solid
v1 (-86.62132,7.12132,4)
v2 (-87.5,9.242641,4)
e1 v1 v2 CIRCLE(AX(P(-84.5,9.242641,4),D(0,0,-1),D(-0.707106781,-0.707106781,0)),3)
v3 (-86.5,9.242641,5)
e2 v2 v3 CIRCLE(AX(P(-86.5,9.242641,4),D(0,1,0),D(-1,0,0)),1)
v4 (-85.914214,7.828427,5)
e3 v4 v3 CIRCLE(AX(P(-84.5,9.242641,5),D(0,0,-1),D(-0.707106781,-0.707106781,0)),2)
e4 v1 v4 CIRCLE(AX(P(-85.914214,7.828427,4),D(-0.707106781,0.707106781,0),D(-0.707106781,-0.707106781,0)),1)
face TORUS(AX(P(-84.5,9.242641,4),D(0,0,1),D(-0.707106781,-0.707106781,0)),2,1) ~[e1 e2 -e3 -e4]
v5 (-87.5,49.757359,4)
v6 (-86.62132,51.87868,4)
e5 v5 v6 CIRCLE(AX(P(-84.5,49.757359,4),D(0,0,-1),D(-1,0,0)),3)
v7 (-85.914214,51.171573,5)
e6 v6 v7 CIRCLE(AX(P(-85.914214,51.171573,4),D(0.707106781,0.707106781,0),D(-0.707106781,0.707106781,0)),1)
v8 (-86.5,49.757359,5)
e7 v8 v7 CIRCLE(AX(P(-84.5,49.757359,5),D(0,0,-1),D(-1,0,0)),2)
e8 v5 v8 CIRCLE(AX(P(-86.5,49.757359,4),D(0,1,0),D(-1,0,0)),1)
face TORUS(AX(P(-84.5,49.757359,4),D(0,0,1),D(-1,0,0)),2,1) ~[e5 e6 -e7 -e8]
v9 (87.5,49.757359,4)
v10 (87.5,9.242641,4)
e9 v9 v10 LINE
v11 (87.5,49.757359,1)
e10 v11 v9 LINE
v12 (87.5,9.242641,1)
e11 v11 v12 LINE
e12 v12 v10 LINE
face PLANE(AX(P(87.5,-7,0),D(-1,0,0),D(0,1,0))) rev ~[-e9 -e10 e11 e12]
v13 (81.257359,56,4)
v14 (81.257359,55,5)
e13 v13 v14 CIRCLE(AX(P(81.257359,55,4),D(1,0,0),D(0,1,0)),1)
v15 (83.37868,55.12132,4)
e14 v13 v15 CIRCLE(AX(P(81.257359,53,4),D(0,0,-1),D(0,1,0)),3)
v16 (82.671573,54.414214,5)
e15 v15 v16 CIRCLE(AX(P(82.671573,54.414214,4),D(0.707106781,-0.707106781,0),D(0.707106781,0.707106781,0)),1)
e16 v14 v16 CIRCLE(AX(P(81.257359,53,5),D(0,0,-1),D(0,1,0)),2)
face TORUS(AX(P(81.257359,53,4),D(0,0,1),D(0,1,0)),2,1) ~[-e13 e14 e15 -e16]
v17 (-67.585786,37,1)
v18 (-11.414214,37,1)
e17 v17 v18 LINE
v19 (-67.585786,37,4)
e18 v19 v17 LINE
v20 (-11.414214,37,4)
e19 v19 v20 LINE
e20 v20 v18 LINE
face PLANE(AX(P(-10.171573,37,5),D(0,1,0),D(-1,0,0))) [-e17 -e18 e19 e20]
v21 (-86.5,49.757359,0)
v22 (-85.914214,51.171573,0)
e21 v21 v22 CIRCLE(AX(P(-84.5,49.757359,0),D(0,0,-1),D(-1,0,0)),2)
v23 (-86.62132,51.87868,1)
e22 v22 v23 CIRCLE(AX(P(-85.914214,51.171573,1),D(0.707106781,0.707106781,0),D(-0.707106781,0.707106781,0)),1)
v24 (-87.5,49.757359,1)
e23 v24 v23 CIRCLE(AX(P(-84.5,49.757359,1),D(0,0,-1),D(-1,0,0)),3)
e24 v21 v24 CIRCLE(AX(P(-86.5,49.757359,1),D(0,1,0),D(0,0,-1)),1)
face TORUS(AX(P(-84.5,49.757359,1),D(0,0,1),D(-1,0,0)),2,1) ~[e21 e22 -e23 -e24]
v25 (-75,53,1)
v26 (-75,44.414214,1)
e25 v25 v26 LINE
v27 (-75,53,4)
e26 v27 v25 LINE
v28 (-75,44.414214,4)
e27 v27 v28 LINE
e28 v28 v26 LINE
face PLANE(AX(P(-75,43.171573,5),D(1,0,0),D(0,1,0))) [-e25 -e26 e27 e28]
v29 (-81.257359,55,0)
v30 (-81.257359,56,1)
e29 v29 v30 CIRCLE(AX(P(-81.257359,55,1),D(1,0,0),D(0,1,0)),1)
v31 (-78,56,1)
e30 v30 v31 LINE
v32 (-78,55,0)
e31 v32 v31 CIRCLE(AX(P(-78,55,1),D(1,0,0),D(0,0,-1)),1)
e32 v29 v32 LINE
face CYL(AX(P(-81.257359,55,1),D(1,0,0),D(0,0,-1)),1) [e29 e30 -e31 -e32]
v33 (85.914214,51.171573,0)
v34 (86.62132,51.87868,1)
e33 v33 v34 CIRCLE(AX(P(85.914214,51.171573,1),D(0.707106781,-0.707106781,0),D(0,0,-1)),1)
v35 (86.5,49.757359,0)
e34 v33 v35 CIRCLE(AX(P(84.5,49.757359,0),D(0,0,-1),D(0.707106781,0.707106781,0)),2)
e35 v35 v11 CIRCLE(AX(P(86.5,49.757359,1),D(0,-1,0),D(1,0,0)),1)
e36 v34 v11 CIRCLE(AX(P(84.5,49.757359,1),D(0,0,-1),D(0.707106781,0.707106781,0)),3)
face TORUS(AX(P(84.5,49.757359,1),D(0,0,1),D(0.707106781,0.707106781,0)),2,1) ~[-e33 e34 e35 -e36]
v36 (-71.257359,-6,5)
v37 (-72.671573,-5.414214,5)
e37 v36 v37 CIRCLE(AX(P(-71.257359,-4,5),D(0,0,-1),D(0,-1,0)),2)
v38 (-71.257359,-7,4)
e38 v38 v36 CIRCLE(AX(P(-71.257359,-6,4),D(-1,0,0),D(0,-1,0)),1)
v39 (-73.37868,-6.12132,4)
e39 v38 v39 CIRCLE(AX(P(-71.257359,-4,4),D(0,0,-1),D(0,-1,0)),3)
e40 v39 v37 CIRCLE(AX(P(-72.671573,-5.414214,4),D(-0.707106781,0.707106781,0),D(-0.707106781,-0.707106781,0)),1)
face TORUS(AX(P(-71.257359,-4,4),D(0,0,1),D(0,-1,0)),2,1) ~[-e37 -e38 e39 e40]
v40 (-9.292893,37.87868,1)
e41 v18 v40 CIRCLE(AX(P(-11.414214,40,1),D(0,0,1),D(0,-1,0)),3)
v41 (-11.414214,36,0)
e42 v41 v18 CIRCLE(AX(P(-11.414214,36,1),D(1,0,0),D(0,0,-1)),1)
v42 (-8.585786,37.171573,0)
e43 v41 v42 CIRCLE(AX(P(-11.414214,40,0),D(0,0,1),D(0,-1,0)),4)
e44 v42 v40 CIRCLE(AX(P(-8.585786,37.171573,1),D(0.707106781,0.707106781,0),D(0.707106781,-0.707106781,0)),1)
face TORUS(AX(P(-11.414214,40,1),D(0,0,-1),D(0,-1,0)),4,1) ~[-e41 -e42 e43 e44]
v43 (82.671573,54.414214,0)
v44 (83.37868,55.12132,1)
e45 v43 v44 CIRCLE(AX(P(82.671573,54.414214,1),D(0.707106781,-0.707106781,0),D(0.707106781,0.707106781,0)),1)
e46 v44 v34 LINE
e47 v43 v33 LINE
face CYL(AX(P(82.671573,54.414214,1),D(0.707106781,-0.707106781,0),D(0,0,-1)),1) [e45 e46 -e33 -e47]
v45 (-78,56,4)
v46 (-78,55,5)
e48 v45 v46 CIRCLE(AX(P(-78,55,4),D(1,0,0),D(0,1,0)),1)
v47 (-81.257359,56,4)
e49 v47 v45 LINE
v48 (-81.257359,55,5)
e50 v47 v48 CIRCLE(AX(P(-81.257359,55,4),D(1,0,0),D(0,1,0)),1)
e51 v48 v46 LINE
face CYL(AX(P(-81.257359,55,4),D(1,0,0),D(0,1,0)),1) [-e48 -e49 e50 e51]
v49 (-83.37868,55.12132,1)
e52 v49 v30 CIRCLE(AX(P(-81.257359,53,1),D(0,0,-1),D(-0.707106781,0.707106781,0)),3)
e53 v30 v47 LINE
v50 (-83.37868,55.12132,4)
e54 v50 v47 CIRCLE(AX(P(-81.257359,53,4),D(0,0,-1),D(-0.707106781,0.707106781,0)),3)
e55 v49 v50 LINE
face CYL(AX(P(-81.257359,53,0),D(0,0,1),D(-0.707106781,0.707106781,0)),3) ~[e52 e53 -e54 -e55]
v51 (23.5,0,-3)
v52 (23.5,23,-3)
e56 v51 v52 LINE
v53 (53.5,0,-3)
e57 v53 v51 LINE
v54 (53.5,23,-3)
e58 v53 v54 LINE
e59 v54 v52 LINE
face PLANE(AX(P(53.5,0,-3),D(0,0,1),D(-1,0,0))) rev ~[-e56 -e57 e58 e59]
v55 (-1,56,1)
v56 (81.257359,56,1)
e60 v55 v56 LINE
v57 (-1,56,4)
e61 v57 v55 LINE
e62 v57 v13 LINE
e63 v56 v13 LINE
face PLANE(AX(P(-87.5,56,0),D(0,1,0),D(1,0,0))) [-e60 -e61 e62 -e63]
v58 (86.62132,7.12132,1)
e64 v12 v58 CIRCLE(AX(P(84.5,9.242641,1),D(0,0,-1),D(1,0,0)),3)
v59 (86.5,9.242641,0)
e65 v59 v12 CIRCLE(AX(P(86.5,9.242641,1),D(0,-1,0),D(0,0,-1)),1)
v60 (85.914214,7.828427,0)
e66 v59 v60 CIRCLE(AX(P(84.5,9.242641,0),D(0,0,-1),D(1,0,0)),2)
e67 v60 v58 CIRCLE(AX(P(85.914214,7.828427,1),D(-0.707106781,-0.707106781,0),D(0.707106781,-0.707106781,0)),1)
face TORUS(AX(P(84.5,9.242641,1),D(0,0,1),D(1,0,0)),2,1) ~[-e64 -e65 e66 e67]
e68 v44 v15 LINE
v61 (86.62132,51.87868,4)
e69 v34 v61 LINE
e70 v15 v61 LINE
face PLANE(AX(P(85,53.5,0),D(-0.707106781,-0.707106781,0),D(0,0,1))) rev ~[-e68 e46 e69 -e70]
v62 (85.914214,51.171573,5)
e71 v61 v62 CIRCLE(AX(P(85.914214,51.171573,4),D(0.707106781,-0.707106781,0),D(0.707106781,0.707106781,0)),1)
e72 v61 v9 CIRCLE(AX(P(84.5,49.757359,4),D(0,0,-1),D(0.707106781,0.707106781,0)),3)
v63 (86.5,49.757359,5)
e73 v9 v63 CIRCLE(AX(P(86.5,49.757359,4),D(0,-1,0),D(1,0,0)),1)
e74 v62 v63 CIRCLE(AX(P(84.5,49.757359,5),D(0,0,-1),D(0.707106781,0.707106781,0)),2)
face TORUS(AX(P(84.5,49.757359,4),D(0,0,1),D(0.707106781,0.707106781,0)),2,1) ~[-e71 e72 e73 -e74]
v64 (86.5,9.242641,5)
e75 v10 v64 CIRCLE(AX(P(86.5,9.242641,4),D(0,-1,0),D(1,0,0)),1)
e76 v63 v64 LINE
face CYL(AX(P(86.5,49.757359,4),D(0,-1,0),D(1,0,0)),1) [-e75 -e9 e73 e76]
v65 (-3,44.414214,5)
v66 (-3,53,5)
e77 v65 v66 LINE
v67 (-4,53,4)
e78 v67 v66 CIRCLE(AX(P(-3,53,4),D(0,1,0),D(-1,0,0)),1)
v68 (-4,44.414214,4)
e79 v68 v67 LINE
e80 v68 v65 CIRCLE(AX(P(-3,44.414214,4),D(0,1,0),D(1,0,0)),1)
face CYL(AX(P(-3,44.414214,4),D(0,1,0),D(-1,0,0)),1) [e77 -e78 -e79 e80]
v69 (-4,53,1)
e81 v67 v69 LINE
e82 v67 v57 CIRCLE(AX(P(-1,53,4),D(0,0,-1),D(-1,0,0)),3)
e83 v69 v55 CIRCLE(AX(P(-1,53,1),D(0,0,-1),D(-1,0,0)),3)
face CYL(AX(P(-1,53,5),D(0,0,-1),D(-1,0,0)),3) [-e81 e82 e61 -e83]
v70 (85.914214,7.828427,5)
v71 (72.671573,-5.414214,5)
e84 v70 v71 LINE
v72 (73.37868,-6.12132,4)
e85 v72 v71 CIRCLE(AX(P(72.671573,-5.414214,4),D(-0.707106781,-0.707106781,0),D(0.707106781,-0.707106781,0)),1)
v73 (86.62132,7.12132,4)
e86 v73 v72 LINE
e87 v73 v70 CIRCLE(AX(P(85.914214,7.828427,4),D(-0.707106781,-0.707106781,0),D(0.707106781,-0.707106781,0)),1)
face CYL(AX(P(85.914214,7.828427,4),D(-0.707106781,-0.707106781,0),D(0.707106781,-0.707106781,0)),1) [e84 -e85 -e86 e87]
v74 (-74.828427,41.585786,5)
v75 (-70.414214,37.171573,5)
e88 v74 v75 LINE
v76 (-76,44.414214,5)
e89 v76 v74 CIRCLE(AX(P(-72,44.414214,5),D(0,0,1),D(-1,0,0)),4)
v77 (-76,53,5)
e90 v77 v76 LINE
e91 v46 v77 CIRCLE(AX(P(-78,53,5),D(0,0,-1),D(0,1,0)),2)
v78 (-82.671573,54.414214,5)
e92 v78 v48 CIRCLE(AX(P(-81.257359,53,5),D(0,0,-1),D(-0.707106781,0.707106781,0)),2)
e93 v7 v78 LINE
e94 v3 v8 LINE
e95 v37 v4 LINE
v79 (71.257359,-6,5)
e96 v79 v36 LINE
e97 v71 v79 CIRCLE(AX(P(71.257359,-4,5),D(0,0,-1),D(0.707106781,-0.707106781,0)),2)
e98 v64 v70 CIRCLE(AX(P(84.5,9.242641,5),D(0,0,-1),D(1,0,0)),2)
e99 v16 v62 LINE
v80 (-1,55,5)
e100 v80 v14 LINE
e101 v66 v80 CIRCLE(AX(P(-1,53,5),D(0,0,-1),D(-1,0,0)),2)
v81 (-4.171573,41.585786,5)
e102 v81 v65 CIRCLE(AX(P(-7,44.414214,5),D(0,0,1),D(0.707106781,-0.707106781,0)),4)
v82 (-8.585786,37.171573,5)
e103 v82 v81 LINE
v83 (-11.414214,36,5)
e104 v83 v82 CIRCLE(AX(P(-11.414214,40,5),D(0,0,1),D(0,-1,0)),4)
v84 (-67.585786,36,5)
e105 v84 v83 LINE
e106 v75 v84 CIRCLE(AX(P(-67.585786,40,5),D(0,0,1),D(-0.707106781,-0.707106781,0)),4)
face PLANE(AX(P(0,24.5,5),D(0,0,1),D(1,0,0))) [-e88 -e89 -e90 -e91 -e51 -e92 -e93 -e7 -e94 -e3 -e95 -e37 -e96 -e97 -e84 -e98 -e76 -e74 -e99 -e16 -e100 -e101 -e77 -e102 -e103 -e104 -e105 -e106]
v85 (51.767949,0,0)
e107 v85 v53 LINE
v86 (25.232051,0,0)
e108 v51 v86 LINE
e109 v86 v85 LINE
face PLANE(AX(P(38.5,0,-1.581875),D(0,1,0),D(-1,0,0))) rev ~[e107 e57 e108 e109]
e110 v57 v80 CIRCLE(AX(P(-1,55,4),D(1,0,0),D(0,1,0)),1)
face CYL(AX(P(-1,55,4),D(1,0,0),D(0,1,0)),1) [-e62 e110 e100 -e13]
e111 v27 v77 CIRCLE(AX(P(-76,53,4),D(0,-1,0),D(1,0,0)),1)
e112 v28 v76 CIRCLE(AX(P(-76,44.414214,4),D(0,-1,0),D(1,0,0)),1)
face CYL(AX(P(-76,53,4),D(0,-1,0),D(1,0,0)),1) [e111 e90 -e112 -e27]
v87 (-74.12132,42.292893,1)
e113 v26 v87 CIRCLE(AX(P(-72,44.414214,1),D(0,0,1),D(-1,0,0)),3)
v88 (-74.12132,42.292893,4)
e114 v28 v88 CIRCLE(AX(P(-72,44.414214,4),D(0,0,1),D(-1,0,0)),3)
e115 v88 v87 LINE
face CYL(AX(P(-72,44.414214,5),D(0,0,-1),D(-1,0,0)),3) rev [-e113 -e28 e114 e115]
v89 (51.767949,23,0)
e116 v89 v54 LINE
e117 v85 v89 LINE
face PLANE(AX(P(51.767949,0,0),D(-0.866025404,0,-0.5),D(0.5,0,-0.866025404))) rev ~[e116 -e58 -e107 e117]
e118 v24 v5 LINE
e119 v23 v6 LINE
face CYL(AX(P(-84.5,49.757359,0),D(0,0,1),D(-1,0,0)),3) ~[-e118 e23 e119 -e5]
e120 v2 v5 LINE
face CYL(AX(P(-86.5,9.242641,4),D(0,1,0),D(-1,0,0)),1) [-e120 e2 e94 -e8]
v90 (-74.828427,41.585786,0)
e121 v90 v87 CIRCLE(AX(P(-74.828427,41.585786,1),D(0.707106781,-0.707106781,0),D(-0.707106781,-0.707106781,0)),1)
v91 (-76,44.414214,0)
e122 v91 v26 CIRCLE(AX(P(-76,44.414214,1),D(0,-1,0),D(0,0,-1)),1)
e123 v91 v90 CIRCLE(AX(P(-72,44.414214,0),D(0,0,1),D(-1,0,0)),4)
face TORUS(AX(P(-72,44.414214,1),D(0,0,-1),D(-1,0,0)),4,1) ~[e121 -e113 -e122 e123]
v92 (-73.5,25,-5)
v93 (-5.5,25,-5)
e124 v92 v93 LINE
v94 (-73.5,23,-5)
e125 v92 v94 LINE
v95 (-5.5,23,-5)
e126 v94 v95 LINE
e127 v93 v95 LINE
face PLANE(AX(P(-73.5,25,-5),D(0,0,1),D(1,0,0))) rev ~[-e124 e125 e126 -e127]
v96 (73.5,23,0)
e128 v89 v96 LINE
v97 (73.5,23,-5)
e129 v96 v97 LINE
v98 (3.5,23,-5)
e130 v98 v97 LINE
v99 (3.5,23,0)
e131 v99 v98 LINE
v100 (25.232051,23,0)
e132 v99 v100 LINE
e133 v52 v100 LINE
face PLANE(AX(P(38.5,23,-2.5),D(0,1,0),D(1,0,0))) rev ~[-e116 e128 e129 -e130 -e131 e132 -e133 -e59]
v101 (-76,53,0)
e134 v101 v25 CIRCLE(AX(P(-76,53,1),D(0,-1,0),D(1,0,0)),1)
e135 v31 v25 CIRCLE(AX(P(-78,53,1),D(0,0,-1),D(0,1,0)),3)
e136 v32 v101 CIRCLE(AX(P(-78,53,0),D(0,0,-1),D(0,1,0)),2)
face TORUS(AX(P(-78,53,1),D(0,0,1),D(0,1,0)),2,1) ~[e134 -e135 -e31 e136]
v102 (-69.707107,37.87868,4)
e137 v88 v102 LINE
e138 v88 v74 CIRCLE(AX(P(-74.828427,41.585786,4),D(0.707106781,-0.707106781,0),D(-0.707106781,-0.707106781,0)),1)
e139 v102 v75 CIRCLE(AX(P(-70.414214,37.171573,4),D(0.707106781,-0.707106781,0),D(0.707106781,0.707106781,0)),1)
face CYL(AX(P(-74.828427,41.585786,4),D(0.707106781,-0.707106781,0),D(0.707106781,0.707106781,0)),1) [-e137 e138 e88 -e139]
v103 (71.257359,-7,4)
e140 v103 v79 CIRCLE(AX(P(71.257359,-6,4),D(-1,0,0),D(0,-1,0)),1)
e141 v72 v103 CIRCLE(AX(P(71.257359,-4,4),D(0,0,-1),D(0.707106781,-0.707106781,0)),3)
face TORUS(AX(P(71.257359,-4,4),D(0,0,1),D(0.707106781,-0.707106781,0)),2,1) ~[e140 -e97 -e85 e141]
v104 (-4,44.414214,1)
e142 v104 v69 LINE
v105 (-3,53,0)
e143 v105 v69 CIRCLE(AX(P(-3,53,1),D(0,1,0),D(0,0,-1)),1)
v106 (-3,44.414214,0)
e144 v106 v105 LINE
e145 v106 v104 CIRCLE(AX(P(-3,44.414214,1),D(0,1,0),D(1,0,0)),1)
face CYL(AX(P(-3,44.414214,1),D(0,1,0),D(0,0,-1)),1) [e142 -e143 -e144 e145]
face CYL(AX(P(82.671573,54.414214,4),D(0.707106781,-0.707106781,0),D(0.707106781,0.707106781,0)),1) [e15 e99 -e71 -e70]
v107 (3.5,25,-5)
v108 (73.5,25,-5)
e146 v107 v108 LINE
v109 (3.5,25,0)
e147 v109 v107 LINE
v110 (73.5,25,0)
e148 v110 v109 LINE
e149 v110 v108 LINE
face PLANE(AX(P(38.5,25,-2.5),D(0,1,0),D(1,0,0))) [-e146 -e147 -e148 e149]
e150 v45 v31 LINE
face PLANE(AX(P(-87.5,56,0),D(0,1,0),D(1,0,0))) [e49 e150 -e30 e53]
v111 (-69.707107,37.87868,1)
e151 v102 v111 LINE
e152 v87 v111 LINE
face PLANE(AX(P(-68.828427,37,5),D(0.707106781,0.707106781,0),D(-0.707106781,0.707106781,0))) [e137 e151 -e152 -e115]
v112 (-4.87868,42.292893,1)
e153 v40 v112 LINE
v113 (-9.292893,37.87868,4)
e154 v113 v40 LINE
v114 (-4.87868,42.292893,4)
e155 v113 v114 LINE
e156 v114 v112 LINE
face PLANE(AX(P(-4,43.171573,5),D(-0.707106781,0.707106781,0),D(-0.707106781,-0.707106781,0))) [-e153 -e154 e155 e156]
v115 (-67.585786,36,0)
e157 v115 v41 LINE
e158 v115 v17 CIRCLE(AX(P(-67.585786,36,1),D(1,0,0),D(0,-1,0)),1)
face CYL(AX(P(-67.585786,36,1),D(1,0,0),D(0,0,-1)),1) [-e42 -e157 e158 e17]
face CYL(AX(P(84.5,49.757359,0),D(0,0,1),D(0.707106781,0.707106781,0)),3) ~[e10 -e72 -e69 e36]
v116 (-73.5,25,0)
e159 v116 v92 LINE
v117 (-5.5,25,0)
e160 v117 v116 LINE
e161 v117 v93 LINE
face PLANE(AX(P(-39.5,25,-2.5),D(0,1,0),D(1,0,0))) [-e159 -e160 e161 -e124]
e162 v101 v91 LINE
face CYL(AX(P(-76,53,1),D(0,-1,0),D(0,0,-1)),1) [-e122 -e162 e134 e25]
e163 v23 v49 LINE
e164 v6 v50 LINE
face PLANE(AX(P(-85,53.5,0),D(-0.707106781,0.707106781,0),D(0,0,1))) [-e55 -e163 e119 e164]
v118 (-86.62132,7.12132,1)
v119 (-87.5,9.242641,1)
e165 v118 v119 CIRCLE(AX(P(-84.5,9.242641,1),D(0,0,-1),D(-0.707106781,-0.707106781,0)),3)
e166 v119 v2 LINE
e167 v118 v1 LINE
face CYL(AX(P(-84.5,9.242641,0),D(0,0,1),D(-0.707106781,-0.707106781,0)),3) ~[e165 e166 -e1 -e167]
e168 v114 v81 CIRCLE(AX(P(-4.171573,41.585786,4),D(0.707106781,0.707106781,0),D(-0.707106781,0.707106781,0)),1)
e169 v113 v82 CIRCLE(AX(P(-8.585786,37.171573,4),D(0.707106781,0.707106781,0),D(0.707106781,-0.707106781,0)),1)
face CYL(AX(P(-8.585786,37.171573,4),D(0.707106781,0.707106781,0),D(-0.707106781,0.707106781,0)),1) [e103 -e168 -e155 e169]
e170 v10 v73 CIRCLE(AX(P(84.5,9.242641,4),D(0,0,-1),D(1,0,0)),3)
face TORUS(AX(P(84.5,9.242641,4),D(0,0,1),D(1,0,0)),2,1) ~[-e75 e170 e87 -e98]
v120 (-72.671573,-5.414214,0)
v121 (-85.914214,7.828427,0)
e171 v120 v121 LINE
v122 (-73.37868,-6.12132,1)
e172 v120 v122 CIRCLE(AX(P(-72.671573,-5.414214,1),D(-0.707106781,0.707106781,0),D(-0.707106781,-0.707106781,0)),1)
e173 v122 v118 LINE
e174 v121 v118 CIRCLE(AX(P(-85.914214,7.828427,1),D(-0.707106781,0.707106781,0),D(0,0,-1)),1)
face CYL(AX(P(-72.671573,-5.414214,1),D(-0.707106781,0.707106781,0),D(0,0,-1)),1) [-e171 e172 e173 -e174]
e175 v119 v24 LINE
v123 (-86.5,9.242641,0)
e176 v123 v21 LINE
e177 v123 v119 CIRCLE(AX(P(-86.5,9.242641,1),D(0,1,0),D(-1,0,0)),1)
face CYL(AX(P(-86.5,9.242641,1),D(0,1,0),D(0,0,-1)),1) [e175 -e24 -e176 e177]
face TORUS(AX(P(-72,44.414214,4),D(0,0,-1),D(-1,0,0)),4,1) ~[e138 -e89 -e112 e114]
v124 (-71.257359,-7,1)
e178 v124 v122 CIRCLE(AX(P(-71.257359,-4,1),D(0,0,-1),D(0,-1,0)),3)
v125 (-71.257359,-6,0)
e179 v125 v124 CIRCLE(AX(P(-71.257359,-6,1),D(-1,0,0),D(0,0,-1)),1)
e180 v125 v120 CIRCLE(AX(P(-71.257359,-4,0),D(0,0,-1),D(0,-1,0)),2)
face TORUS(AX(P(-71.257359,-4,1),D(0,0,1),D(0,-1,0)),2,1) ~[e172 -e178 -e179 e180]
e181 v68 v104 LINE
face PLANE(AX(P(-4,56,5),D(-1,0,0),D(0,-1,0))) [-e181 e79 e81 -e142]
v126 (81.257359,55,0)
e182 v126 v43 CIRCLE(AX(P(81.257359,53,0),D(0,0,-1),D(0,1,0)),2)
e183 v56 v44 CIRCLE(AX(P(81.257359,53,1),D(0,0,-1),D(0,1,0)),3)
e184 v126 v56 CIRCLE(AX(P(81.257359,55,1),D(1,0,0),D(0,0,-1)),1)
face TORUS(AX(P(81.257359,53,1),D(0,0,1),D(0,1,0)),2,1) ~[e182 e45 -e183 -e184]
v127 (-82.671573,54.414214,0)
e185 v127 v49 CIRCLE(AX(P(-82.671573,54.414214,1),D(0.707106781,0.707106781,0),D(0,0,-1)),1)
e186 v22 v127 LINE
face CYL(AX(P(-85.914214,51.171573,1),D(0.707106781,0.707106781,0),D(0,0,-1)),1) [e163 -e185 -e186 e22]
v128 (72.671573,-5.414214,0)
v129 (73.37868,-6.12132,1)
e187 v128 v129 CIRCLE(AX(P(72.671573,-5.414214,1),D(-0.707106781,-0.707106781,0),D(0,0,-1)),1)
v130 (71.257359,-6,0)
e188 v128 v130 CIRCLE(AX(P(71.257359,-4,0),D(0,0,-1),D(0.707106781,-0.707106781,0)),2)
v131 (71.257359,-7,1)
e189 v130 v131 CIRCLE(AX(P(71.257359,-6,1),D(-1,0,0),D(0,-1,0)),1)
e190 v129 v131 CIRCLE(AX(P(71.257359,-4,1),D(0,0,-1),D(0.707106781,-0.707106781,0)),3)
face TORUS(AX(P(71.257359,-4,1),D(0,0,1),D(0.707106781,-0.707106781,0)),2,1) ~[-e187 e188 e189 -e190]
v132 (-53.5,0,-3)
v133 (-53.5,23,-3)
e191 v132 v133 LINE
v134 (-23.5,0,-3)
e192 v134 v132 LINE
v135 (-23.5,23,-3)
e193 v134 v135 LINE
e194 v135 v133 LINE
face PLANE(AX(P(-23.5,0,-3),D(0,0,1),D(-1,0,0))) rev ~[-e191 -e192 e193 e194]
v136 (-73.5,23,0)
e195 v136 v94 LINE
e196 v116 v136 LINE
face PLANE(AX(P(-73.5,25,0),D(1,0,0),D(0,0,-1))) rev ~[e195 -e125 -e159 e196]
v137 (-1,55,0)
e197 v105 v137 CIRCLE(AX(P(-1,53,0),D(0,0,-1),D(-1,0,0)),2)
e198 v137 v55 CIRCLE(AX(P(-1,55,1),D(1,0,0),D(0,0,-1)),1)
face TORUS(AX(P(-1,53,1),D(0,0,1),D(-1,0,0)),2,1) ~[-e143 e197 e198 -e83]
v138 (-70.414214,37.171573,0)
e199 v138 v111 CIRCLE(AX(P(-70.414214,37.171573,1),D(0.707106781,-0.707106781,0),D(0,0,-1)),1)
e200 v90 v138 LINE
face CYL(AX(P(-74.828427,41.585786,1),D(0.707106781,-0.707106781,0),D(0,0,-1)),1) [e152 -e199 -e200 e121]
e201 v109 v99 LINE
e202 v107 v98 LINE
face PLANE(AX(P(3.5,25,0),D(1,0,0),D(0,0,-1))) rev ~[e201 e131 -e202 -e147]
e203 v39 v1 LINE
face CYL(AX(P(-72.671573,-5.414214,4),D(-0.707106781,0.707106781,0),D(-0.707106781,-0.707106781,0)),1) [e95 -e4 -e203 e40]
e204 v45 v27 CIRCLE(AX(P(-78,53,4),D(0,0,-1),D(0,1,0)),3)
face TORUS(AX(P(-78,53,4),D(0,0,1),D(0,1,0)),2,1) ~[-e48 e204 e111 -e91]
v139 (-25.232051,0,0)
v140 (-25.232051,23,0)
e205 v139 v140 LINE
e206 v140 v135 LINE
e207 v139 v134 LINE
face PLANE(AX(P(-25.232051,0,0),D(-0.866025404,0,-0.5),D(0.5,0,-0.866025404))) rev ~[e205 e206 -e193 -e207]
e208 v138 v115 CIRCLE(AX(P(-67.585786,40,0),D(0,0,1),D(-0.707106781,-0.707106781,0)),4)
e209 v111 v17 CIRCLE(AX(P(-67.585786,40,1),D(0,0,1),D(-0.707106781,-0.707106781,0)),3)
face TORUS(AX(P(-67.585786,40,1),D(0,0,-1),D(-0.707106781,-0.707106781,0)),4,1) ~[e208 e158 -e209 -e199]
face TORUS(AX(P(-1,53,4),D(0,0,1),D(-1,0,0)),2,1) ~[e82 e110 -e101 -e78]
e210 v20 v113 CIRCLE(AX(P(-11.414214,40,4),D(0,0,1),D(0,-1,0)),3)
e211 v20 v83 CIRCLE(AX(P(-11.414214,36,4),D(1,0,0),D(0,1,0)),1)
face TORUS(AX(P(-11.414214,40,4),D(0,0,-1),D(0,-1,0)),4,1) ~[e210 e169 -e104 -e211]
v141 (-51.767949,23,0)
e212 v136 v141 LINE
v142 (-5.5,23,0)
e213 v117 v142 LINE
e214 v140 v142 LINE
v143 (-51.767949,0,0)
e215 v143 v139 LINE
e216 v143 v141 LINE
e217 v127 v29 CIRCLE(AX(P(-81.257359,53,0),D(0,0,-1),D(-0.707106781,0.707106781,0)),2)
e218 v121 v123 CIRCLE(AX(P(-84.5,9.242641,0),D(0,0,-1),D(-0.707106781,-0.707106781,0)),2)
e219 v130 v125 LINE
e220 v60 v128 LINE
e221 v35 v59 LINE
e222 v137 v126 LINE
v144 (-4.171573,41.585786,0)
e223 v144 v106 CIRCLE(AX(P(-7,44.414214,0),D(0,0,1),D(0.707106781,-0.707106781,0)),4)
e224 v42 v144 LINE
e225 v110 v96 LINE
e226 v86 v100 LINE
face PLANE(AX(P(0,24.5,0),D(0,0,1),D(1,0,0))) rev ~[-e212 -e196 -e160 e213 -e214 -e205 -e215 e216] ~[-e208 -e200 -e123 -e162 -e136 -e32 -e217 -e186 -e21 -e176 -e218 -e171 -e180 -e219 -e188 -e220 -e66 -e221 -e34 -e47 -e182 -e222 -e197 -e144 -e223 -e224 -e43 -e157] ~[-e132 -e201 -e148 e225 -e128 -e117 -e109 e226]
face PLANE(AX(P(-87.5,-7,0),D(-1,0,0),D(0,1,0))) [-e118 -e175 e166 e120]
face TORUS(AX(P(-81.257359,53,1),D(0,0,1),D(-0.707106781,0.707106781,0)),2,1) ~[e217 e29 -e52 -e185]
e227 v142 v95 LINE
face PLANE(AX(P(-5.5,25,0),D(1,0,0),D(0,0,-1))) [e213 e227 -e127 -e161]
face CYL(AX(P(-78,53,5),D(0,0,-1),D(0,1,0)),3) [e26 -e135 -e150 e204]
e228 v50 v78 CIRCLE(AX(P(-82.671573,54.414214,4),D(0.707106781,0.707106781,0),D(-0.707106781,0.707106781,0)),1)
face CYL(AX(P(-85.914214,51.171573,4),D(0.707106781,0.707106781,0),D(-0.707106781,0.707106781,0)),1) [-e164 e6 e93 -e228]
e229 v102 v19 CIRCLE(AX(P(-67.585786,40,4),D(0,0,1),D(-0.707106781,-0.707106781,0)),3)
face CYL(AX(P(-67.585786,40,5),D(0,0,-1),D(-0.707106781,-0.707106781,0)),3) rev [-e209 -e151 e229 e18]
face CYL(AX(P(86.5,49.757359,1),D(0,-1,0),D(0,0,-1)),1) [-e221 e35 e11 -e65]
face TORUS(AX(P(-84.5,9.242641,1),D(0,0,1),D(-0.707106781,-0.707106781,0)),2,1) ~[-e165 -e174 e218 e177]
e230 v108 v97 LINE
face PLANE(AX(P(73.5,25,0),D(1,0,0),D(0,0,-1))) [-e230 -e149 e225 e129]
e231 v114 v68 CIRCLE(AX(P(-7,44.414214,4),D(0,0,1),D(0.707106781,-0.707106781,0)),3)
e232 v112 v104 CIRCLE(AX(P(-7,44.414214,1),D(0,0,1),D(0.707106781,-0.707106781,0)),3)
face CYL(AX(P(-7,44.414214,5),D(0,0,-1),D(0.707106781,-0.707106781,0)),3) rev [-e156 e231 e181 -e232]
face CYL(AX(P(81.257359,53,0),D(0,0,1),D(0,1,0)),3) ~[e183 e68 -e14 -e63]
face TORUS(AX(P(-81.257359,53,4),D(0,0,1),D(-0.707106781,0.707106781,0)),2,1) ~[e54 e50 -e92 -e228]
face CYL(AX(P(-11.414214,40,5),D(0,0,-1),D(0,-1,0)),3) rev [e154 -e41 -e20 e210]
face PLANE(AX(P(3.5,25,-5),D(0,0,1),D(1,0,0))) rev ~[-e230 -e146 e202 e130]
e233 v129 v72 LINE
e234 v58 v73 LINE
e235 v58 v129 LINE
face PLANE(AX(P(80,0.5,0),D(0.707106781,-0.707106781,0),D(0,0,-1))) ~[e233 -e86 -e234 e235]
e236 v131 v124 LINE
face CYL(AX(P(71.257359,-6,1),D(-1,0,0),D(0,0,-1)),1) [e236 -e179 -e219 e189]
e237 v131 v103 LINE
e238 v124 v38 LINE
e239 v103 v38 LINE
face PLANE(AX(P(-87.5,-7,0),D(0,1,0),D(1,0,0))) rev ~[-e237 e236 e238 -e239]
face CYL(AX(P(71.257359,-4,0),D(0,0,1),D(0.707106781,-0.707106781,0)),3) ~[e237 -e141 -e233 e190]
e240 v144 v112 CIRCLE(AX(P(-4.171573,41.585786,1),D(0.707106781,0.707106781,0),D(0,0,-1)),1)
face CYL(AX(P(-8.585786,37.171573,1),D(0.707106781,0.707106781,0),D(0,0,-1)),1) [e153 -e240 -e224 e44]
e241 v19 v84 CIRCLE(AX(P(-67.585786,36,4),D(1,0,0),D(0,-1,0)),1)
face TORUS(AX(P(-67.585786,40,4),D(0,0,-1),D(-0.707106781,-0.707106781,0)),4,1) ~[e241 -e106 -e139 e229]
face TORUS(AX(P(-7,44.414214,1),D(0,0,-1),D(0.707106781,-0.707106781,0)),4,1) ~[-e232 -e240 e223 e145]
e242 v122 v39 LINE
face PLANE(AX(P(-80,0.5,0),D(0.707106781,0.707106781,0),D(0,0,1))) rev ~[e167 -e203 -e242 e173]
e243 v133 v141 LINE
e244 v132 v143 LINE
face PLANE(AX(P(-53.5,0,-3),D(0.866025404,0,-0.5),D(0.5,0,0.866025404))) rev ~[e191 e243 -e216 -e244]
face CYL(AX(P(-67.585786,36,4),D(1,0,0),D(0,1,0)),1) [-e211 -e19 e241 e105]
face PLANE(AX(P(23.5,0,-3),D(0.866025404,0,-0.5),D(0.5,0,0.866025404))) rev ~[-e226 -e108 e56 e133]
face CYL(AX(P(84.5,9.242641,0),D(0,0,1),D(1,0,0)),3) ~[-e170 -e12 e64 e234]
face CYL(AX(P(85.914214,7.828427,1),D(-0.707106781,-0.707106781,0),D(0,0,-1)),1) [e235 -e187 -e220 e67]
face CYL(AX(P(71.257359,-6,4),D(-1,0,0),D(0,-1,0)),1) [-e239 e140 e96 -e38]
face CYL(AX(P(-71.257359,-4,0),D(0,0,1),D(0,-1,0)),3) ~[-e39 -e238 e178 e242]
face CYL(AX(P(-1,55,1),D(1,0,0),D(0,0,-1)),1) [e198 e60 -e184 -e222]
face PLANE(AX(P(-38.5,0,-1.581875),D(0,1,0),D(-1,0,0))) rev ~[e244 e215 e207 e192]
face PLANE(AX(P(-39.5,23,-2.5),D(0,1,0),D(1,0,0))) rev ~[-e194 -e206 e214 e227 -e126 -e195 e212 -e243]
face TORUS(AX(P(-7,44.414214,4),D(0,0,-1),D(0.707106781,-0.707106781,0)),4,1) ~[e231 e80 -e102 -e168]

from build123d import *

# Parameters (mm, degrees)
SKETCH_1_W          = 175
SKETCH_1_H          = 63
EXTRUDE_1_DEPTH     = 5
CUT_EXTRUDE_1_DEPTH = 5
CHAMFER_1_SIZE      = 15
CHAMFER_2_SIZE      = 5
EXTRUDE_START       = -7
EXTRUDE_2_DEPTH     = 25
EXTRUDE_START_2     = -12
SKETCH_5_W          = 68
SKETCH_5_H          = 5
SKETCH_5_W_2        = 70
EXTRUDE_4_DEPTH     = 2
FILLET_1_R          = 3
FILLET_2_R          = 3
FILLET_3_R          = 1


with BuildPart() as part:
    # 草图1 → 凸台-拉伸1 (new body)
    with BuildSketch(Plane.XY):
        with Locations((0, 24.5)):
            Rectangle(SKETCH_1_W, SKETCH_1_H)
    extrude(amount=EXTRUDE_1_DEPTH)

    # 草图2 → 切除-拉伸1 (cut)
    with BuildSketch(Plane.XY.offset(5)):
        Polygon((-75, 56), (-4, 56), (-4, 43.171572875), (-10.171572875, 37), (-68.828427125, 37), (-75, 43.171572875), align=None)
    extrude(amount=-CUT_EXTRUDE_1_DEPTH, mode=Mode.SUBTRACT)

    # 倒角1
    chamfer_1_edges = [part.edges().sort_by_distance(p)[0] for p in [
        (87.5, -7, 2.5),
        (-87.5, -7, 2.5),
    ]]
    chamfer(chamfer_1_edges, length=CHAMFER_1_SIZE)

    # 倒角2
    chamfer_2_edges = [part.edges().sort_by_distance(p)[0] for p in [
        (-87.5, 56, 2.5),
        (87.5, 56, 2.5),
    ]]
    chamfer(chamfer_2_edges, length=CHAMFER_2_SIZE)

    # 草图4 → 凸台-拉伸2 (add)
    with BuildSketch(Plane.XZ.offset(7).offset(EXTRUDE_START)):
        Polygon((-23.5, -3), (-53.5, -3), (-51.767949192, 0), (-25.232050808, 0), align=None)
        Polygon((23.5, -3), (25.232050808, 0), (51.767949192, 0), (53.5, -3), align=None)
    extrude(amount=-EXTRUDE_2_DEPTH)

    # 草图5 → 凸台-拉伸4 (add)
    with BuildSketch(Plane(origin=(0, 37, 0), x_dir=(1, 0, 0), z_dir=(0, 1, 0)).offset(EXTRUDE_START_2)):
        with Locations((-39.5, 2.5)):
            Rectangle(SKETCH_5_W, SKETCH_5_H)
        with Locations((38.5, 2.5)):
            Rectangle(SKETCH_5_W_2, SKETCH_5_H)
    extrude(amount=-EXTRUDE_4_DEPTH)

    # 圆角1
    fillet_1_edges = [part.edges().sort_by_distance(p)[0] for p in [
        (-4, 43.171572875, 2.5),
        (-10.171572875, 37, 2.5),
        (-68.828427125, 37, 2.5),
        (-75, 43.171572875, 2.5),
        (-75, 56, 2.5),
        (-4, 56, 2.5),
        (72.5, -7, 2.5),
        (-72.5, -7, 2.5),
        (-87.5, 8, 2.5),
        (87.5, 8, 2.5),
        (82.5, 56, 2.5),
        (87.5, 51, 2.5),
        (-82.5, 56, 2.5),
    ]]
    fillet(fillet_1_edges, radius=FILLET_1_R)

    # 圆角2
    fillet_2_edges = [part.edges().sort_by_distance(p)[0] for p in [
        (-87.5, 51, 2.5),
    ]]
    fillet(fillet_2_edges, radius=FILLET_2_R)

    # 圆角3
    fillet_3_edges = [part.edges().sort_by_distance(p)[0] for p in [
        (40.128679656, 56, 5),
        (40.128679656, 56, 0),
        (87.5, 29.5, 5),
        (85, 53.5, 5),
        (-4, 48.707106781, 5),
        (-7.085786438, 40.085786438, 5),
        (-39.5, 37, 5),
        (-71.914213562, 40.085786438, 5),
        (-75, 48.707106781, 5),
        (-79.628679656, 56, 5),
        (-85, 53.5, 5),
        (-80, 0.5, 5),
        (0, -7, 5),
        (80, 0.5, 5),
        (-82.40540961, 55.771638598, 5),
        (-87.271638598, 8.09459039, 5),
        (-72.40540961, -6.771638598, 5),
        (82.40540961, 55.771638598, 5),
        (87.271638598, 50.90540961, 5),
        (87.271638598, 8.09459039, 5),
        (72.40540961, -6.771638598, 5),
        (-75.878679656, 55.121320344, 5),
        (-3.121320344, 55.121320344, 5),
        (-4, 48.707106781, 0),
        (85, 53.5, 0),
        (87.5, 29.5, 0),
        (80, 0.5, 0),
        (0, -7, 0),
        (-80, 0.5, 0),
        (-79.628679656, 56, 0),
        (-75, 48.707106781, 0),
        (-71.914213562, 40.085786438, 0),
        (-39.5, 37, 0),
        (-7.085786438, 40.085786438, 0),
        (-82.40540961, 55.771638598, 0),
        (-87.271638598, 8.09459039, 0),
        (-72.40540961, -6.771638598, 0),
        (82.40540961, 55.771638598, 0),
        (87.271638598, 50.90540961, 0),
        (87.271638598, 8.09459039, 0),
        (72.40540961, -6.771638598, 0),
        (-75.878679656, 55.121320344, 0),
        (-3.121320344, 55.121320344, 0),
        (-4.228361402, 43.266163265, 5),
        (-4.228361402, 43.266163265, 0),
        (-10.266163265, 37.228361402, 5),
        (-10.266163265, 37.228361402, 0),
        (-68.733836735, 37.228361402, 5),
        (-68.733836735, 37.228361402, 0),
        (-74.771638598, 43.266163265, 5),
        (-74.771638598, 43.266163265, 0),
        (-87.5, 29.5, 0),
        (-87.5, 29.5, 5),
        (-85, 53.5, 0),
        (-87.271638598, 50.90540961, 0),
        (-87.271638598, 50.90540961, 5),
    ]]
    fillet(fillet_3_edges, radius=FILLET_3_R)


solid = part.part
